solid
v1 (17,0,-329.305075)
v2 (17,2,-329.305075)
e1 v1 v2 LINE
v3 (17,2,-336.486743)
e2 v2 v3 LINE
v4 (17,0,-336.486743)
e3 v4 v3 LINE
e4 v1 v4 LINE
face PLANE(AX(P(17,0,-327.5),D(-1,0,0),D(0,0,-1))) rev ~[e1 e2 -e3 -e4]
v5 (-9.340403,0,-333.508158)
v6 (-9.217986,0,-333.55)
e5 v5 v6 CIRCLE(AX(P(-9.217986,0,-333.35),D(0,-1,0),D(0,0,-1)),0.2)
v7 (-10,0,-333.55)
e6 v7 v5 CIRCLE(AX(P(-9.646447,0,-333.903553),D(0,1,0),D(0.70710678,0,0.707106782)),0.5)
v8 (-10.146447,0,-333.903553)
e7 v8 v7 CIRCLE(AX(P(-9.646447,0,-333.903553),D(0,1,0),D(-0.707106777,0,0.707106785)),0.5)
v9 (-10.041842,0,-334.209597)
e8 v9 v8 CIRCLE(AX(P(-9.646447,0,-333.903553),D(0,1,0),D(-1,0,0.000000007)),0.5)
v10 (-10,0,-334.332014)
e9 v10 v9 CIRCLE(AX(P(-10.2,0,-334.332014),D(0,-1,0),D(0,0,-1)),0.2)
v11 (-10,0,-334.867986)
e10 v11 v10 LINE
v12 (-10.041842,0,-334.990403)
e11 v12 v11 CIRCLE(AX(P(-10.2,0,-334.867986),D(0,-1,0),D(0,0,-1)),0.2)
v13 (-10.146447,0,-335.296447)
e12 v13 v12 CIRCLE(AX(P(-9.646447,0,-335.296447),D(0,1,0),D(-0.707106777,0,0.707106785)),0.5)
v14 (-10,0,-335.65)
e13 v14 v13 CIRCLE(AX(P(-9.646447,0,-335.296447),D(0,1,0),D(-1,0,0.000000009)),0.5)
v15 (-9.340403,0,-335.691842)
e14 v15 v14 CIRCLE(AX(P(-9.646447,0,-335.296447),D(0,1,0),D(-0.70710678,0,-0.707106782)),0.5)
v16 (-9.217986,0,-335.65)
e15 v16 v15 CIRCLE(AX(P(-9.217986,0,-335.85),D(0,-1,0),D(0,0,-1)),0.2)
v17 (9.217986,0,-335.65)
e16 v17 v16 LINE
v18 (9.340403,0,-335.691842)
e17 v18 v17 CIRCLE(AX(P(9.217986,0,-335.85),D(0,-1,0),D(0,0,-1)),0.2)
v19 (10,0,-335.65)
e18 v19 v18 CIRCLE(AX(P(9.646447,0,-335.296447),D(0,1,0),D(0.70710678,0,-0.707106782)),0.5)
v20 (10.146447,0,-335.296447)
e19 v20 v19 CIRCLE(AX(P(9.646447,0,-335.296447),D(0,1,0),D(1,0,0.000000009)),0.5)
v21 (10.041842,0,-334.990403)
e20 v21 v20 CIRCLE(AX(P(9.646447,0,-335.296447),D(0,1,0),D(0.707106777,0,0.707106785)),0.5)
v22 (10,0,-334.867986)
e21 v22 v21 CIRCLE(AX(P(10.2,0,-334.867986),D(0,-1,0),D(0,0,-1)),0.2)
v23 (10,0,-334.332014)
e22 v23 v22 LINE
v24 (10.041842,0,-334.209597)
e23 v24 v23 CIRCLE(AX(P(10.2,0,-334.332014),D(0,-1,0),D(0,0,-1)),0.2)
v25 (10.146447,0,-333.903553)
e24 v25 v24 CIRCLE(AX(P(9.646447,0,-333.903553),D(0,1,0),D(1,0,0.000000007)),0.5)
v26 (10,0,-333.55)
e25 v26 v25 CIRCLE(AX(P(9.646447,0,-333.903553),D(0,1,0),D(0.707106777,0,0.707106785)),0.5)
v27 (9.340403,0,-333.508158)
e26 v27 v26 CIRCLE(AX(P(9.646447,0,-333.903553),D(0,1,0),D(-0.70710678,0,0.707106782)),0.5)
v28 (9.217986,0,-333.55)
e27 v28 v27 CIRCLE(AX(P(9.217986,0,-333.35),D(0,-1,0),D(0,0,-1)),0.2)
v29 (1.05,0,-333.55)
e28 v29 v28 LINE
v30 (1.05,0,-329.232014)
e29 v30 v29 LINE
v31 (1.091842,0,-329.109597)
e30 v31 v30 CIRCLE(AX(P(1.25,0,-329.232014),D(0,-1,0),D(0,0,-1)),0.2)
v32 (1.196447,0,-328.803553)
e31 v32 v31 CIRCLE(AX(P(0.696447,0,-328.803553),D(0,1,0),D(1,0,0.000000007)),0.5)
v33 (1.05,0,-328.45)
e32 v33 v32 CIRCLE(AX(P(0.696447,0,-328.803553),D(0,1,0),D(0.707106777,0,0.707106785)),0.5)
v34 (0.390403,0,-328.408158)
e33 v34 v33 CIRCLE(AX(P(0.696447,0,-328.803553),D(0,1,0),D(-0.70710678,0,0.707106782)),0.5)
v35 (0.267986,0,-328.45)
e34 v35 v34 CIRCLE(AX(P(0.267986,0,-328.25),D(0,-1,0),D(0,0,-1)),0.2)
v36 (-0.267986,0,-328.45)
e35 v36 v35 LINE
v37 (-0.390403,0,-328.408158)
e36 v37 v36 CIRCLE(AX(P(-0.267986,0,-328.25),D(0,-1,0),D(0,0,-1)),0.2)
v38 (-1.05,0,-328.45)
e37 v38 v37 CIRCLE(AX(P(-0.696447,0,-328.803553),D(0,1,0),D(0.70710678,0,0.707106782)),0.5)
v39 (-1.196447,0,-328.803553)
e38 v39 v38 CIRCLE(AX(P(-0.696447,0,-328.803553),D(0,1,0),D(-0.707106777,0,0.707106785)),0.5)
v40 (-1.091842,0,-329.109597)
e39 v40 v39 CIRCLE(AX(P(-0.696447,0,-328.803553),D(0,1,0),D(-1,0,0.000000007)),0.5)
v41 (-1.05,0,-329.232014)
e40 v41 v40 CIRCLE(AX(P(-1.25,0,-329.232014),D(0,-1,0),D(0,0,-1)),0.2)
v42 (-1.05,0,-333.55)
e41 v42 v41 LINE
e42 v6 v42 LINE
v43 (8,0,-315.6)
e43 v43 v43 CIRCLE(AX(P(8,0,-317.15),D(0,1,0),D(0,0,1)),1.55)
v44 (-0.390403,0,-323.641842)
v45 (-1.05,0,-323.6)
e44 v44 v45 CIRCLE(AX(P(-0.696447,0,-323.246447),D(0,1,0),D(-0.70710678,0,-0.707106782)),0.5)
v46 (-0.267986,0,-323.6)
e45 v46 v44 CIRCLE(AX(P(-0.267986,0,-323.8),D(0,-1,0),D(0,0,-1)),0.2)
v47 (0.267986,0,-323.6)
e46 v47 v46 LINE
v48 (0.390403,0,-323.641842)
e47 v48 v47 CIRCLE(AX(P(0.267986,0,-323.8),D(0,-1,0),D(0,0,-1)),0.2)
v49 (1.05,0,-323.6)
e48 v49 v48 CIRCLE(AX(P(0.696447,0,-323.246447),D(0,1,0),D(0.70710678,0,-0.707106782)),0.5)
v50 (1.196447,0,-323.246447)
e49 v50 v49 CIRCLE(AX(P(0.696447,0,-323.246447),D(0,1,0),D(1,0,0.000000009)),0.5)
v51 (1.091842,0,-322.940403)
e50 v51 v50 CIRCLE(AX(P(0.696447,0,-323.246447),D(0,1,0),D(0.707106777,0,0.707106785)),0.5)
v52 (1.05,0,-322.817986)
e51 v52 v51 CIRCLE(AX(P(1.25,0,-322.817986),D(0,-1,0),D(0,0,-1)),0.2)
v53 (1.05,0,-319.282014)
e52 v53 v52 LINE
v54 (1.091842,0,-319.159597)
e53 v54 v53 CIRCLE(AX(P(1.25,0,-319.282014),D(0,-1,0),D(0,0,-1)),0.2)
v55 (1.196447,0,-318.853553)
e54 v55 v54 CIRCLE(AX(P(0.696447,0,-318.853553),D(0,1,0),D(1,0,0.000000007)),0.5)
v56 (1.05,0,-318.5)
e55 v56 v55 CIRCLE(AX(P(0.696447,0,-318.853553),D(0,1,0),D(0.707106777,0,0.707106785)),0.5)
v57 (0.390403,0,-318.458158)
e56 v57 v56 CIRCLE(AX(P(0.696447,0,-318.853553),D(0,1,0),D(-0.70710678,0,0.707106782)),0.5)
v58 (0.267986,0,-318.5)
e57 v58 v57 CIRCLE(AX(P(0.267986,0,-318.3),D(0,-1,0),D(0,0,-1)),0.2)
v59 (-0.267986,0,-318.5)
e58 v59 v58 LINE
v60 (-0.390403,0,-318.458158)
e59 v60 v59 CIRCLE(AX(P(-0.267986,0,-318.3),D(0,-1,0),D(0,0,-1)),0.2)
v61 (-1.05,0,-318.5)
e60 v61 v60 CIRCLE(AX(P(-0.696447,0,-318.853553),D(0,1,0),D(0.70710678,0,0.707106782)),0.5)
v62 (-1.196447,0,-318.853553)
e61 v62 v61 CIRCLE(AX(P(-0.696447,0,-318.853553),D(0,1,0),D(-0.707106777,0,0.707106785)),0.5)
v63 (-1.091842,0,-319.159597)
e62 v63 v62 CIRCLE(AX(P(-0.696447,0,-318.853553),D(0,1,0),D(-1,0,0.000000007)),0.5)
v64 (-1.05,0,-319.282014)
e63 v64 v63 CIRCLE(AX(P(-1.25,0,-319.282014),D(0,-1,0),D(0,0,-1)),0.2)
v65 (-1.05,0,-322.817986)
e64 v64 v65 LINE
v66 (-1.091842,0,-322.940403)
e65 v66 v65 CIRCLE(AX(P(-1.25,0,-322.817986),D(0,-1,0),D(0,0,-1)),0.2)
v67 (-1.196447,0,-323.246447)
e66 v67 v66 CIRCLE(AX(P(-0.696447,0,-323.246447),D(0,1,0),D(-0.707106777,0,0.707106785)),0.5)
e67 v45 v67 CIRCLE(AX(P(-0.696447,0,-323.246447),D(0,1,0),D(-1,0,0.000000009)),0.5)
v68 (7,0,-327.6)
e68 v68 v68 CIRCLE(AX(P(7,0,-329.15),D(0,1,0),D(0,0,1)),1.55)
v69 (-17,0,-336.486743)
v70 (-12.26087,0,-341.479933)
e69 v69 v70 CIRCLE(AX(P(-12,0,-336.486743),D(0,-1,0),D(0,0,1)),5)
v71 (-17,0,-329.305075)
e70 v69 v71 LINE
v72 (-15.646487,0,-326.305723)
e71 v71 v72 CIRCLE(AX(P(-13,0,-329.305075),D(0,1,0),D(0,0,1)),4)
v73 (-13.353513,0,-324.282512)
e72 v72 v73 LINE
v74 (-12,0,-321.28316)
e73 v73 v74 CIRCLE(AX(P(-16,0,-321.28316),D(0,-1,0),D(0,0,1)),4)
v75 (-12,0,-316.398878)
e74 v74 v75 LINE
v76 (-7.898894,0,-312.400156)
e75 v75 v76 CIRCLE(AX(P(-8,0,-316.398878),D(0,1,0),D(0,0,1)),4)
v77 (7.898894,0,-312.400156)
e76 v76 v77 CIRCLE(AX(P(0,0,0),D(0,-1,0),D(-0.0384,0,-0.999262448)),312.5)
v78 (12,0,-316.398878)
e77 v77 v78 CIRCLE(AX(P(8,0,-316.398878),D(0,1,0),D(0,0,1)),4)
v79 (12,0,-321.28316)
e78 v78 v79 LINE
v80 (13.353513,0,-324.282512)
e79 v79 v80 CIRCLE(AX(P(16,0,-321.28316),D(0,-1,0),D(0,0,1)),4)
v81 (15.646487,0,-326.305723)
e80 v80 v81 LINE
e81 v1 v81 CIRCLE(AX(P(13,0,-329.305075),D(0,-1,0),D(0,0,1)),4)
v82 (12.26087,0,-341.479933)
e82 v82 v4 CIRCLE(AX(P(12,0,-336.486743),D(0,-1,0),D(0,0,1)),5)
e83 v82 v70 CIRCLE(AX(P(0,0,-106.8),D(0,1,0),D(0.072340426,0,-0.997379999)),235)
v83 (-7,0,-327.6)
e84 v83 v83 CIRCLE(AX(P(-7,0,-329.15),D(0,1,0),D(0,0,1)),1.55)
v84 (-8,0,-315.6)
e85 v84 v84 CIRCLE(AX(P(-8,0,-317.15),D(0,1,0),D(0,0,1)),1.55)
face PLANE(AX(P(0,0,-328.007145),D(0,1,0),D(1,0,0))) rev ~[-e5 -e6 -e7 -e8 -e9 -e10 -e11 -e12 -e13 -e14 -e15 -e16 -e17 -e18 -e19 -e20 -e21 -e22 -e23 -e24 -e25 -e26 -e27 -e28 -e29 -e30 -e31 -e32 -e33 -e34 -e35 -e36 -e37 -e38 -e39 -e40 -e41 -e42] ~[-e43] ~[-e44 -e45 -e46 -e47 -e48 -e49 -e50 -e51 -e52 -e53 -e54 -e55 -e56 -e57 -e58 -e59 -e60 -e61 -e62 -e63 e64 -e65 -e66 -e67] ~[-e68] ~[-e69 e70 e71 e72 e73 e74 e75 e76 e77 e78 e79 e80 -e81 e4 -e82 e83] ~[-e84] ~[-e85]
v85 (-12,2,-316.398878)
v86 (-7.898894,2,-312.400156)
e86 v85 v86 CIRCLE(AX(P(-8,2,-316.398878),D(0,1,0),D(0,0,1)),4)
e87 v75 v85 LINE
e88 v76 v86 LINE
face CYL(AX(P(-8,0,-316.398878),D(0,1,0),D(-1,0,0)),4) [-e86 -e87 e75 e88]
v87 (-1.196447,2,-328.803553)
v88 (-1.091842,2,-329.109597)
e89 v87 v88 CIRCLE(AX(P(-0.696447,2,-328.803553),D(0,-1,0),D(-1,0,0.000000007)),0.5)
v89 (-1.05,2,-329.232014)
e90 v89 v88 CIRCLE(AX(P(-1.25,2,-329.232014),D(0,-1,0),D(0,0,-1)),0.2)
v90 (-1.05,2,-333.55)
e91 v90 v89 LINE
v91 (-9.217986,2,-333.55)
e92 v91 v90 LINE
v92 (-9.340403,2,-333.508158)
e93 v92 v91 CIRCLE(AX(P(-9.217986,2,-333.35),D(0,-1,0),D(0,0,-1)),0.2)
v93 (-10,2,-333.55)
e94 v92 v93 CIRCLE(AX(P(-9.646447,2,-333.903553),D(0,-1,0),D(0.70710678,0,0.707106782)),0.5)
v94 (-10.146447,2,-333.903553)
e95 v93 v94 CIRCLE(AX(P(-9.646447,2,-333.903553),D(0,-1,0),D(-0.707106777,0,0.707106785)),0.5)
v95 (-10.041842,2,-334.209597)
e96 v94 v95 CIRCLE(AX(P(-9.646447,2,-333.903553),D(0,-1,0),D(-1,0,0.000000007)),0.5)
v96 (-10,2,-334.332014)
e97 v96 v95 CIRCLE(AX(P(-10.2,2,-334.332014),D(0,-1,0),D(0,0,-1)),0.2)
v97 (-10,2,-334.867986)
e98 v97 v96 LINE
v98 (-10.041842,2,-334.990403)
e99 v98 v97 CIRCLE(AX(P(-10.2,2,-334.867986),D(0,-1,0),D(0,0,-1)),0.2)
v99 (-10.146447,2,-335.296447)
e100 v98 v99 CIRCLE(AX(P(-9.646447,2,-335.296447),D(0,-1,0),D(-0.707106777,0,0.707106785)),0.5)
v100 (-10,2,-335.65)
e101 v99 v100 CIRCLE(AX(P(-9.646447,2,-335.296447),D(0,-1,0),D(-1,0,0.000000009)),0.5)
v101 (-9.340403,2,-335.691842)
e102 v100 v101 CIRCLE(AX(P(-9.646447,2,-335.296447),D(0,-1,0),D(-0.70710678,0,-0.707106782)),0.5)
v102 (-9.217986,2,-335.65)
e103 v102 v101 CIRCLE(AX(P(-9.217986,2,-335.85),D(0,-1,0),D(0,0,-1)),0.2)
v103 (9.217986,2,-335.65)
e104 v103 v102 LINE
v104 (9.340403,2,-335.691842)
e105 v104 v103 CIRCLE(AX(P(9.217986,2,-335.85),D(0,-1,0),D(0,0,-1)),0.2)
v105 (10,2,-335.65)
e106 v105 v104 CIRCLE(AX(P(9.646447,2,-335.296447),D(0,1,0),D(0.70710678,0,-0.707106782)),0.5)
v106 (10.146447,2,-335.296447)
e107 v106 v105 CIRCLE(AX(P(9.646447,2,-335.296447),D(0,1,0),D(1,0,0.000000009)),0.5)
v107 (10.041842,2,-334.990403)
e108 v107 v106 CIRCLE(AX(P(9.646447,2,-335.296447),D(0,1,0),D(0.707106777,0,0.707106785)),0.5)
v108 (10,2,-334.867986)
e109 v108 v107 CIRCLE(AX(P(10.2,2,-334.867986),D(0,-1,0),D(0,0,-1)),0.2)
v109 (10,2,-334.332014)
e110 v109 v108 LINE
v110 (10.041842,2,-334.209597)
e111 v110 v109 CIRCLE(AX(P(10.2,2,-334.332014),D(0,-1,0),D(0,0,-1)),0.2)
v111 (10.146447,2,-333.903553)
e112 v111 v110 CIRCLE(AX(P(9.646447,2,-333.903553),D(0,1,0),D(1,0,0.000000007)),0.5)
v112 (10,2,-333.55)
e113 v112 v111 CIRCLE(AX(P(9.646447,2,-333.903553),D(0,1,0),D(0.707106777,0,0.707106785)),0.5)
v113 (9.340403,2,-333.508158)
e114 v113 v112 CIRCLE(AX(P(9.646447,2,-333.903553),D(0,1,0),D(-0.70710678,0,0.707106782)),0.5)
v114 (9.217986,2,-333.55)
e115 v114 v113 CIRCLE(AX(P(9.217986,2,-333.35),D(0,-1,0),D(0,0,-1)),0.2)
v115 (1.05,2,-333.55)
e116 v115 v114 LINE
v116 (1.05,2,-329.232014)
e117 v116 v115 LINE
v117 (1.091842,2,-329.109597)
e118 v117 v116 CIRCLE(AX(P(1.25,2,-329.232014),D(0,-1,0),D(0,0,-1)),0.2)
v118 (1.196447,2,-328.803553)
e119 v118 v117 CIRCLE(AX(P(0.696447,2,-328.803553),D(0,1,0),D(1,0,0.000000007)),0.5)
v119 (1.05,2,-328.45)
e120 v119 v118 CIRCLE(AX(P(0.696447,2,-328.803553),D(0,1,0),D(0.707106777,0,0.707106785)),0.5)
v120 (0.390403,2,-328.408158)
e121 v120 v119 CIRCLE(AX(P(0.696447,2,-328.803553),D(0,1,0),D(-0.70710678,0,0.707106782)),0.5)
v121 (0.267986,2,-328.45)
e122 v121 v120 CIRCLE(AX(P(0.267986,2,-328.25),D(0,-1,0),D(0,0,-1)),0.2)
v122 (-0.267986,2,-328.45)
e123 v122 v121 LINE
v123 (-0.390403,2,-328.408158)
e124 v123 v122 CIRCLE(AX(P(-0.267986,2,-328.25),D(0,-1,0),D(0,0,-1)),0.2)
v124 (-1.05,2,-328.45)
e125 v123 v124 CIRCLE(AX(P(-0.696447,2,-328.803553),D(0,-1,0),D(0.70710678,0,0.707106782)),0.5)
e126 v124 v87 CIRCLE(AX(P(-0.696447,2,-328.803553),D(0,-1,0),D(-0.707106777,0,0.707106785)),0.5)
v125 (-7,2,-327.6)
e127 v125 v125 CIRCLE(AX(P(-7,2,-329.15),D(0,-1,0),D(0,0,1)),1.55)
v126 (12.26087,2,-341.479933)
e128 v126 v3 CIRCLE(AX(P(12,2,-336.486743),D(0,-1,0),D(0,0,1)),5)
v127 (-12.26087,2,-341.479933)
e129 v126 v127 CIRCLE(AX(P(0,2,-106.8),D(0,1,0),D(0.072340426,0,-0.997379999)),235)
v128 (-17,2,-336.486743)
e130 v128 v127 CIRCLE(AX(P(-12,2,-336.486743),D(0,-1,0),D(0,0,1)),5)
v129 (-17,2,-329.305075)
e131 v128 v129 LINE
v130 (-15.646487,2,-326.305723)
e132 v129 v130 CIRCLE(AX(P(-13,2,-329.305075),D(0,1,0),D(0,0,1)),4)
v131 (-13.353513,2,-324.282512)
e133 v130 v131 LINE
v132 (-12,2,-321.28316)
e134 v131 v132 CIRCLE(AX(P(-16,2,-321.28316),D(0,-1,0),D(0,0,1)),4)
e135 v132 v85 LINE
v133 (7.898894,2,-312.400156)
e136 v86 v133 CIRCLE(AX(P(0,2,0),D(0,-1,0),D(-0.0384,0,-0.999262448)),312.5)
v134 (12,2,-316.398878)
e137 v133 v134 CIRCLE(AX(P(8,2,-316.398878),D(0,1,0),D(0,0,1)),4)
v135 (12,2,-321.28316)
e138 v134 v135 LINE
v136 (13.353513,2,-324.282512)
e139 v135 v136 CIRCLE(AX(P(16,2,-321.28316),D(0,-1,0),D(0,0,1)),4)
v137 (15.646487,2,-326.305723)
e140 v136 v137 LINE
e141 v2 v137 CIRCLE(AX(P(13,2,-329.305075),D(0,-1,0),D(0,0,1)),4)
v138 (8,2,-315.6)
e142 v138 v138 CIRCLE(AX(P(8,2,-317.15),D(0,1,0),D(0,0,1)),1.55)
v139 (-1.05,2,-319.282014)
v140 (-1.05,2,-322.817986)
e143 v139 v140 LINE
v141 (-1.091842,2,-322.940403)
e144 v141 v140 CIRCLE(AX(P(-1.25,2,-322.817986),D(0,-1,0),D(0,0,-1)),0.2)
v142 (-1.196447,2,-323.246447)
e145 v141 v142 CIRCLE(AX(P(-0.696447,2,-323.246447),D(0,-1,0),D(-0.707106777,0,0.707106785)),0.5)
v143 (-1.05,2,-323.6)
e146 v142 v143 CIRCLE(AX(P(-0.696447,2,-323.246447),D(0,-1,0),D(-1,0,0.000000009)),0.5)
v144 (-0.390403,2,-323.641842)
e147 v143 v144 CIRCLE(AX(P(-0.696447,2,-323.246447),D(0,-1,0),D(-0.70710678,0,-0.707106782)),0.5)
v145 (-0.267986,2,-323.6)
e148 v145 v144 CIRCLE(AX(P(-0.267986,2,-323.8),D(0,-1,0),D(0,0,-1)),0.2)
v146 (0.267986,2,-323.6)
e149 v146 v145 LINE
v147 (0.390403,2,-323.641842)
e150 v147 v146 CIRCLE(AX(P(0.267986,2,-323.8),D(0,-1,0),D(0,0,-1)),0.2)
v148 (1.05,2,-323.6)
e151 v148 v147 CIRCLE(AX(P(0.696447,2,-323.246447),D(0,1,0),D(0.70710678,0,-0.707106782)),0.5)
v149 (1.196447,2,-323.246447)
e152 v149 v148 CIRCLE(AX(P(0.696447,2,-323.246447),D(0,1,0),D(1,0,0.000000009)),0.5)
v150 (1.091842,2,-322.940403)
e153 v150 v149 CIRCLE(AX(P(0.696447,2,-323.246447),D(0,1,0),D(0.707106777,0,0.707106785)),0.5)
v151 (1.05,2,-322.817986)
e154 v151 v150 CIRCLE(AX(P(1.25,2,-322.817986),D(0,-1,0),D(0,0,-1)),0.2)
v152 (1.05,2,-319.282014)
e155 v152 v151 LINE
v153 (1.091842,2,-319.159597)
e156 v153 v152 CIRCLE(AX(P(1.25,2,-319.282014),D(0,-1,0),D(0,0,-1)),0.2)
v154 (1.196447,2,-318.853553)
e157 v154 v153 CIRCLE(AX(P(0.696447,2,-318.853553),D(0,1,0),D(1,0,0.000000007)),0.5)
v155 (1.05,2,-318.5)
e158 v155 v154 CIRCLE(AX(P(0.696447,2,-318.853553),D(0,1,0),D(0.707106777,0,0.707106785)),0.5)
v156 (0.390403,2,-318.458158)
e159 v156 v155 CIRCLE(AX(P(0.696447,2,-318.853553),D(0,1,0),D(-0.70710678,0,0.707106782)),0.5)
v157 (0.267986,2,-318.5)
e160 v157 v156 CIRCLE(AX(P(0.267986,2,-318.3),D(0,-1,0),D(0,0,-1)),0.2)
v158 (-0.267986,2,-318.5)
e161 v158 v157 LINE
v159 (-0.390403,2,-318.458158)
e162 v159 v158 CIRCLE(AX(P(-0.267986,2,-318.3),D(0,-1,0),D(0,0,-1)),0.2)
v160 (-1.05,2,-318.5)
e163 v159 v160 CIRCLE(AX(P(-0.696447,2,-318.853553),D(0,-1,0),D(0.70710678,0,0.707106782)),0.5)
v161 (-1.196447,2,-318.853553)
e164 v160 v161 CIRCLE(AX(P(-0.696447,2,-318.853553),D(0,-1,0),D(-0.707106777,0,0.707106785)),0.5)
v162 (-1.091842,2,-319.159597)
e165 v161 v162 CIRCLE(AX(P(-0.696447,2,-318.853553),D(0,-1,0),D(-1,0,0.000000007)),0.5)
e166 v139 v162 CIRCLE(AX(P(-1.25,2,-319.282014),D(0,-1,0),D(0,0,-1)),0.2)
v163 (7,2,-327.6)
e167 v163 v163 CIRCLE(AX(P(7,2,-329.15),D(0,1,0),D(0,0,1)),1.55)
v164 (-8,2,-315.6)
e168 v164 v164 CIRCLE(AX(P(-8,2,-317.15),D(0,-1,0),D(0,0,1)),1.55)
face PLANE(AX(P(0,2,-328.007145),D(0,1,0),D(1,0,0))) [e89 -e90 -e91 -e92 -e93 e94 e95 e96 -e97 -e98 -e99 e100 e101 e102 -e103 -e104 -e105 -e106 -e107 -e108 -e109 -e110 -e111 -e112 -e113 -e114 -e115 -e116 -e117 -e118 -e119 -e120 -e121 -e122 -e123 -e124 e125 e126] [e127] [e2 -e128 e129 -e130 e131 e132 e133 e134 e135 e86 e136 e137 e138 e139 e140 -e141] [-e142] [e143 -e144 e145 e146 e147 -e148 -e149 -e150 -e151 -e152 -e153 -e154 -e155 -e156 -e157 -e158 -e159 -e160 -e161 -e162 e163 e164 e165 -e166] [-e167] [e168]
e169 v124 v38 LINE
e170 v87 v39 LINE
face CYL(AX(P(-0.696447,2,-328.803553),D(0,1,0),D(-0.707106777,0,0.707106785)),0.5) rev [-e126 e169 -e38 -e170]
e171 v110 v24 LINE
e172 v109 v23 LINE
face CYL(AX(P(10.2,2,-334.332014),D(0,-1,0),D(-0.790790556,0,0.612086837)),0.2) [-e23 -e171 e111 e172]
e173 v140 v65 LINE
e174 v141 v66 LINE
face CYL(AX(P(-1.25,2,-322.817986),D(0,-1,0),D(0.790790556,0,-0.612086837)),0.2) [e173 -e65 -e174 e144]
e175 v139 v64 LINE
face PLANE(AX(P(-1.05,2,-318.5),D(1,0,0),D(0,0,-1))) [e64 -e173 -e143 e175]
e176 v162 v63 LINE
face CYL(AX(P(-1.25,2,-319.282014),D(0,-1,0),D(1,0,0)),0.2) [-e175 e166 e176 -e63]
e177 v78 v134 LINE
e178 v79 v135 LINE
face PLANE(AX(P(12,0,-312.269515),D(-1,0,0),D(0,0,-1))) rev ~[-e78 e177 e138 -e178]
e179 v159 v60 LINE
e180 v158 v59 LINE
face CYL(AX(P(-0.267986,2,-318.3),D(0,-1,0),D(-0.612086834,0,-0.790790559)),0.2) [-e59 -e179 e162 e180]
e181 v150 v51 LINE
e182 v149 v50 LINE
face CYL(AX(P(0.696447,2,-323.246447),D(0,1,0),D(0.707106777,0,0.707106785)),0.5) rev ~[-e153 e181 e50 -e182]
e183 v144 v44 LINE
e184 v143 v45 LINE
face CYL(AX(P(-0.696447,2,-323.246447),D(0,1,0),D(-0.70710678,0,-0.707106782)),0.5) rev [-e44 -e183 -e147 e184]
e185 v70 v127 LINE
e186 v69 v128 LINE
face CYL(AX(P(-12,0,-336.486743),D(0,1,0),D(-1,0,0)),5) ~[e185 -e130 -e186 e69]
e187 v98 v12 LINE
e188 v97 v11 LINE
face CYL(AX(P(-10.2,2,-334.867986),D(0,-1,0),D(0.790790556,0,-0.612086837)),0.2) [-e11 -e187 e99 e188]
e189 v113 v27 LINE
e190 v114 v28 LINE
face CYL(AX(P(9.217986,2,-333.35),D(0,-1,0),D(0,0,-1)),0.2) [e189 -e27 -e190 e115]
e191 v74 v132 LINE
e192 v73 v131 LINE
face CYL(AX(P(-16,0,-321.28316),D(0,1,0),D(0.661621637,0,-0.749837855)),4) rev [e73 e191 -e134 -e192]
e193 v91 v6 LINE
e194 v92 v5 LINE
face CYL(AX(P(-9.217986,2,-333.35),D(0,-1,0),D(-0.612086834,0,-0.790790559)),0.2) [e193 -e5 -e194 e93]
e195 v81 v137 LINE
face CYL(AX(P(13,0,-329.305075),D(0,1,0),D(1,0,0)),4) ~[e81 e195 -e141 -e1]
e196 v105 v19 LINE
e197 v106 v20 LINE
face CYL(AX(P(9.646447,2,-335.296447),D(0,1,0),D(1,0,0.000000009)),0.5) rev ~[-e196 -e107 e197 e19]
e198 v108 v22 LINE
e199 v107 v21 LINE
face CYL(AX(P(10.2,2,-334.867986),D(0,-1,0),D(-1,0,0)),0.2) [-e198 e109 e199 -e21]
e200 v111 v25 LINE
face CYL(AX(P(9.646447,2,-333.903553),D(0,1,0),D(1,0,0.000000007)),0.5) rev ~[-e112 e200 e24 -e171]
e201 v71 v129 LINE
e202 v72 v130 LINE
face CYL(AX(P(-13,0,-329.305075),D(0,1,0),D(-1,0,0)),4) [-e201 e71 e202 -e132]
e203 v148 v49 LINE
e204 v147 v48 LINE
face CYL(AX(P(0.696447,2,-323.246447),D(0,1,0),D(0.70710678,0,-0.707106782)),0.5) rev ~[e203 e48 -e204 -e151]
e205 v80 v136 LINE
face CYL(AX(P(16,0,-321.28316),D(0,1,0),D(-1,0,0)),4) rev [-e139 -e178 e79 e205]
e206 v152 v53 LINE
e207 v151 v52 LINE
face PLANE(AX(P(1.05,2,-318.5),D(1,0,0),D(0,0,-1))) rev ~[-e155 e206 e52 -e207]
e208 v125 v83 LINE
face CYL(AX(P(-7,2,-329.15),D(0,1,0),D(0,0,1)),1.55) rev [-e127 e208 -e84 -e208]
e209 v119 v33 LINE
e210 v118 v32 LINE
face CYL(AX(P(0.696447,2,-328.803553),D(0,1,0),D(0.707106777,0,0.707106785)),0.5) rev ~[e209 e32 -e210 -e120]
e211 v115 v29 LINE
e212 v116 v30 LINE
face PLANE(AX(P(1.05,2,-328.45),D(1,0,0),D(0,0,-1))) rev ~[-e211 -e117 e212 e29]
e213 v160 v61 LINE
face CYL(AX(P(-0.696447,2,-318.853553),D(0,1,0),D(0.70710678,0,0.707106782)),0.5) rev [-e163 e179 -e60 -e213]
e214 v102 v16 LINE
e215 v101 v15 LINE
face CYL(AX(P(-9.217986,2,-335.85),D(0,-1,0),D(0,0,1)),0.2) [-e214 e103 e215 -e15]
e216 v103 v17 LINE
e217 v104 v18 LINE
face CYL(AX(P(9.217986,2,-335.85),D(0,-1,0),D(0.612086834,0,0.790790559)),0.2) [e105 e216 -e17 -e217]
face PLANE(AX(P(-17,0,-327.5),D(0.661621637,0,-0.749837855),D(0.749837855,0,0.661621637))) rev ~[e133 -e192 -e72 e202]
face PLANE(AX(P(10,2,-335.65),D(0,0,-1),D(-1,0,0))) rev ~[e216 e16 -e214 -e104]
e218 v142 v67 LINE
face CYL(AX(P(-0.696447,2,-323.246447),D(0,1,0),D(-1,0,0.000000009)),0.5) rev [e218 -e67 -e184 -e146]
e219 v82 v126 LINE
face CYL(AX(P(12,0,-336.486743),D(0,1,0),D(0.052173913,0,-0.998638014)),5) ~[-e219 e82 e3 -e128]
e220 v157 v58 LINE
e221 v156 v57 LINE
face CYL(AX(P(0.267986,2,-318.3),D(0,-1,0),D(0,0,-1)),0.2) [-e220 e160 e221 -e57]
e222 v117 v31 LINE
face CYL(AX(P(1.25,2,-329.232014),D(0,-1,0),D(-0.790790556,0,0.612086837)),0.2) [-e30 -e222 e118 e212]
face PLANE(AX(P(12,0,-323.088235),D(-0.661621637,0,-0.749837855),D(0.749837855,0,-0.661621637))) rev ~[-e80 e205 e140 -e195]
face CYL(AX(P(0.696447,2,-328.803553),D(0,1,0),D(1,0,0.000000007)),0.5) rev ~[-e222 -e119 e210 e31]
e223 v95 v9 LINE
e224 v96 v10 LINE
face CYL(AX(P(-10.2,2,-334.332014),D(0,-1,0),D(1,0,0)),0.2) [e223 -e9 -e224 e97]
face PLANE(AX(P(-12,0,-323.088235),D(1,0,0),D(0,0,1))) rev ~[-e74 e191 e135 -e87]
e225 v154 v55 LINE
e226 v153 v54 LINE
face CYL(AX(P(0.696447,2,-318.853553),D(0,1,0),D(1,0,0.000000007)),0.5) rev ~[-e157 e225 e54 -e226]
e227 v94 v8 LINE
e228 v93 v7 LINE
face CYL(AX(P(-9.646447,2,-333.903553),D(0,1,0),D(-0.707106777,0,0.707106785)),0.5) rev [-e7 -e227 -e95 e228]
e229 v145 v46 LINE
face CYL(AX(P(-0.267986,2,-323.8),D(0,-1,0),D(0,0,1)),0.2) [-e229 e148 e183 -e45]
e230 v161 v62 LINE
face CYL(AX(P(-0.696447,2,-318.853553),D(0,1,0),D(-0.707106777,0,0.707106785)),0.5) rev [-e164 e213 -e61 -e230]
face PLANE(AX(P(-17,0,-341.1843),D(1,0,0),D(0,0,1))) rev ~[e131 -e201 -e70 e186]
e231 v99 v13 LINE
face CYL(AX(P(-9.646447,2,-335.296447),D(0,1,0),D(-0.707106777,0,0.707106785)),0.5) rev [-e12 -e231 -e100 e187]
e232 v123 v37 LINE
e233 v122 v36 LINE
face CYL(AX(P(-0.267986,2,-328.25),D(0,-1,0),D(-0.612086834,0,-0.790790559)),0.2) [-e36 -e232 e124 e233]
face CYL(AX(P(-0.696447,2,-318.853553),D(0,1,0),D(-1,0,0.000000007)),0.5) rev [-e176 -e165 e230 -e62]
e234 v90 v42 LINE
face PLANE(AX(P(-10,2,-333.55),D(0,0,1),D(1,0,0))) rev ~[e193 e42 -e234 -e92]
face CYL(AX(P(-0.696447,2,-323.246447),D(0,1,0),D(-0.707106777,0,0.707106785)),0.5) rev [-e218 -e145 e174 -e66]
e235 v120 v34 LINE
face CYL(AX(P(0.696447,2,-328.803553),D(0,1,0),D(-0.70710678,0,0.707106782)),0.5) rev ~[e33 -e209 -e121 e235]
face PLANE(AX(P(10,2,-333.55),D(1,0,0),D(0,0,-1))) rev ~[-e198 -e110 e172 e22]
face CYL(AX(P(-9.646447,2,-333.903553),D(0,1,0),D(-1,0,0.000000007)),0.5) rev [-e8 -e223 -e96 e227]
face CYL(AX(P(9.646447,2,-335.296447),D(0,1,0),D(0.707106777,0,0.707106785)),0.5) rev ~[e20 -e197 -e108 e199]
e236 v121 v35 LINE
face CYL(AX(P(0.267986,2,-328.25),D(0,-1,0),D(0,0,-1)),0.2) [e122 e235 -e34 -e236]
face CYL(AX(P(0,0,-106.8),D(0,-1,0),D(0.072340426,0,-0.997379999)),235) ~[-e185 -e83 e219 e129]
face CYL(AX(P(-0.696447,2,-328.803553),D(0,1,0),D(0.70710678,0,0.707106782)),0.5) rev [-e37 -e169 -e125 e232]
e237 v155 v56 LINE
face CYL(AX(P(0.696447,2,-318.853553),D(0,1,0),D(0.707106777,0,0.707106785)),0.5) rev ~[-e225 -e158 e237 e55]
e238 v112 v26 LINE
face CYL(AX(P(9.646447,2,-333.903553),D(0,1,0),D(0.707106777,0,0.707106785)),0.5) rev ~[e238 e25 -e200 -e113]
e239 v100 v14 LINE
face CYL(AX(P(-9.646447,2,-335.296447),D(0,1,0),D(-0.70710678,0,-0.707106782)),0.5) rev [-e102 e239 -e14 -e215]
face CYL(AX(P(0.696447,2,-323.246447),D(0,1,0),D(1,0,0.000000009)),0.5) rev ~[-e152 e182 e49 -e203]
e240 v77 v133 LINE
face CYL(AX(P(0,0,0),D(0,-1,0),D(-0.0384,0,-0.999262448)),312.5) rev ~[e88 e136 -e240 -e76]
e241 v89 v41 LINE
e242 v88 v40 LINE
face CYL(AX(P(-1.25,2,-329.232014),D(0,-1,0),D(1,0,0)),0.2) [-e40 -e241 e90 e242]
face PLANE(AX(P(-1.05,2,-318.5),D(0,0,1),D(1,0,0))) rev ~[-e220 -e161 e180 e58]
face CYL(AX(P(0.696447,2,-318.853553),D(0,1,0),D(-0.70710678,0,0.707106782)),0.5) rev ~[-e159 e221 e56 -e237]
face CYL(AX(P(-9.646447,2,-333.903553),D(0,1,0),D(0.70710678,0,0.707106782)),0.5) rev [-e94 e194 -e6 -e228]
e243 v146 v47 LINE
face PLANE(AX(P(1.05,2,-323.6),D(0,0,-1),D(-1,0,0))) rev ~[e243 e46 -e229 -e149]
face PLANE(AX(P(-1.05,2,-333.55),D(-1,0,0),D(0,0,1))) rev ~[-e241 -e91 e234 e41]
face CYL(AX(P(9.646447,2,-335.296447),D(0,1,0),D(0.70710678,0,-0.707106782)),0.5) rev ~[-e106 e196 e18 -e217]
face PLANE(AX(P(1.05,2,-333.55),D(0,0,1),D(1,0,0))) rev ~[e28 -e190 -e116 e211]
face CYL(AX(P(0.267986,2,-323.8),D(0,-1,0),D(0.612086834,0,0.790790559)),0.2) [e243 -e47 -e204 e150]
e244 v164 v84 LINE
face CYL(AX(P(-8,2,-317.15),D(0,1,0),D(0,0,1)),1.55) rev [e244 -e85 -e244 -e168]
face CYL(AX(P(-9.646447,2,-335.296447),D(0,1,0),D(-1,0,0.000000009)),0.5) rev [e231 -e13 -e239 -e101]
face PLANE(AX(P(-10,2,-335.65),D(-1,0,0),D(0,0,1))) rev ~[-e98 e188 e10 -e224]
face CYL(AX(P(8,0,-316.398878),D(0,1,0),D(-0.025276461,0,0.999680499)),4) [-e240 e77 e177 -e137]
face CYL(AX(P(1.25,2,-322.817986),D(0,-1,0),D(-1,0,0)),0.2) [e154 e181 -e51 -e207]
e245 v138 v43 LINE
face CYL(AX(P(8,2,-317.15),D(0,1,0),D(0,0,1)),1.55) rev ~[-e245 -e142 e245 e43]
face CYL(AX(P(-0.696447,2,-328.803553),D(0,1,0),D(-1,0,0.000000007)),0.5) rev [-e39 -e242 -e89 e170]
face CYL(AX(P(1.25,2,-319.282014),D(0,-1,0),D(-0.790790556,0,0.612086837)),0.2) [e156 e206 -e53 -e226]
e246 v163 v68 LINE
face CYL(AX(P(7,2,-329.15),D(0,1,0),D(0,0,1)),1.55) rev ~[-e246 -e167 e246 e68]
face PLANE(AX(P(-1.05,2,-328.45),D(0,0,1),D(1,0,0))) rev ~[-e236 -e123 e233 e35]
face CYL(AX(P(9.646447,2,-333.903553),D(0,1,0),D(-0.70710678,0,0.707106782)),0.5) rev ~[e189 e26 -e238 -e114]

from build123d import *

# Parameters (mm, degrees)
EXTRUDE_1_DEPTH     = 2
SKETCH_2_W          = 1.05
SKETCH_2_H          = 5.1
CUT_EXTRUDE_1_DEPTH = 343.228344823
CUT_EXTRUDE_2_DEPTH = 343.228344823
FILLET_1_R          = 0.2
SKETCH_4_R          = 1.55
CUT_EXTRUDE_3_DEPTH = 343.228344823
FILLET_2_R          = 5
FILLET_3_R          = 4


with BuildPart() as part:
    # 草图1 → 凸台-拉伸1 (new body)
    with BuildSketch(Plane(origin=(0, 0, 0), x_dir=(1, 0, 0), z_dir=(0, 1, 0))):
        with BuildLine():
            Line((-17, 327.5), (-12, 323.088235294))
            Line((-12, 323.088235294), (-12, 312.269515003))
            ThreePointArc((-12, 312.269515003), (0, 312.5), (12, 312.269515003))
            Line((12, 312.269515003), (12, 323.088235294))
            Line((12, 323.088235294), (17, 327.5))
            Line((17, 327.5), (17, 341.184299815))
            ThreePointArc((17, 341.184299815), (0, 341.8), (-17, 341.184299815))
            Line((-17, 341.184299815), (-17, 327.5))
        make_face()
    extrude(amount=EXTRUDE_1_DEPTH)

    # 草图2 → 切除-拉伸1 (cut, through all)
    with BuildSketch(Plane(origin=(0, 2, 0), x_dir=(1, 0, 0), z_dir=(0, 1, 0))):
        Polygon((0, 335.65), (0, 328.45), (1.05, 328.45), (1.05, 333.55), (10, 333.55), (10, 335.65), align=None)
        Polygon((-1.05, 328.45), (0, 328.45), (0, 335.65), (-10, 335.65), (-10, 333.55), (-1.05, 333.55), align=None)
        with Locations((0.525, 321.05)):
            Rectangle(SKETCH_2_W, SKETCH_2_H)
        with Locations((-0.525, 321.05)):
            Rectangle(SKETCH_2_W, SKETCH_2_H)
    extrude(amount=-CUT_EXTRUDE_1_DEPTH, mode=Mode.SUBTRACT)

    # 草图3 → 切除-拉伸2 (cut, through all)
    with BuildSketch(Plane(origin=(0, 2, 0), x_dir=(1, 0, 0), z_dir=(0, 1, 0))):
        with BuildLine():
            Line((10, 335.65), (10, 334.942893219))
            ThreePointArc((10, 334.942893219), (10.108386376, 335.105104893), (10.146446609, 335.296446609))
            ThreePointArc((10.146446609, 335.296446609), (10.108386376, 335.487788326), (10, 335.65))
        make_face()
        with BuildLine():
            ThreePointArc((10, 335.65), (9.646446609, 335.796446609), (9.292893219, 335.65))
            Line((9.292893219, 335.65), (10, 335.65))
        make_face()
        with BuildLine():
            ThreePointArc((10.146446609, 333.903553391), (10.108386376, 334.094895107), (10, 334.257106781))
            Line((10, 334.257106781), (10, 333.55))
            ThreePointArc((10, 333.55), (10.108386376, 333.712211674), (10.146446609, 333.903553391))
        make_face()
        with BuildLine():
            Line((10, 333.55), (9.292893219, 333.55))
            ThreePointArc((9.292893219, 333.55), (9.646446609, 333.403553391), (10, 333.55))
        make_face()
        with BuildLine():
            ThreePointArc((1.196446609, 328.803553391), (1.158386376, 328.994895107), (1.05, 329.157106781))
            Line((1.05, 329.157106781), (1.05, 328.45))
            ThreePointArc((1.05, 328.45), (1.158386376, 328.612211674), (1.196446609, 328.803553391))
        make_face()
        with BuildLine():
            Line((1.05, 328.45), (0.342893219, 328.45))
            ThreePointArc((0.342893219, 328.45), (0.696446609, 328.303553391), (1.05, 328.45))
        make_face()
        with BuildLine():
            ThreePointArc((1.196446609, 323.246446609), (1.158386376, 323.437788326), (1.05, 323.6))
            Line((1.05, 323.6), (1.05, 322.892893219))
            ThreePointArc((1.05, 322.892893219), (1.158386376, 323.055104893), (1.196446609, 323.246446609))
        make_face()
        with BuildLine():
            ThreePointArc((1.05, 323.6), (0.696446609, 323.746446609), (0.342893219, 323.6))
            Line((0.342893219, 323.6), (1.05, 323.6))
        make_face()
        with BuildLine():
            ThreePointArc((1.196446609, 318.853553391), (1.158386376, 319.044895107), (1.05, 319.207106781))
            Line((1.05, 319.207106781), (1.05, 318.5))
            ThreePointArc((1.05, 318.5), (1.158386376, 318.662211674), (1.196446609, 318.853553391))
        make_face()
        with BuildLine():
            Line((1.05, 318.5), (0.342893219, 318.5))
            ThreePointArc((0.342893219, 318.5), (0.696446609, 318.353553391), (1.05, 318.5))
        make_face()
    cut_extrude_2 = extrude(amount=-CUT_EXTRUDE_2_DEPTH, mode=Mode.SUBTRACT)

    # 镜向1: 切除-拉伸2 across plane
    add(cut_extrude_2.mirror(Plane(origin=(0, 0, 0), x_dir=(0, 0, 1), z_dir=(1, 0, 0))), mode=Mode.SUBTRACT)

    # 圆角1
    fillet_1_edges = [part.edges().sort_by_distance(p)[0] for p in [
        (1.05, 1, -329.157106781),
        (0.342893219, 1, -323.6),
        (1.05, 1, -319.207106781),
        (9.292893219, 1, -335.65),
        (10, 1, -334.257106781),
        (0.342893219, 1, -328.45),
        (1.05, 1, -322.892893219),
        (0.342893219, 1, -318.5),
        (-10, 1, -334.942893219),
        (-9.292893219, 1, -333.55),
        (-1.05, 1, -329.157106781),
        (-0.342893219, 1, -323.6),
        (-1.05, 1, -319.207106781),
        (-9.292893219, 1, -335.65),
        (-10, 1, -334.257106781),
        (-0.342893219, 1, -328.45),
        (-1.05, 1, -322.892893219),
        (-0.342893219, 1, -318.5),
        (10, 1, -334.942893219),
        (9.292893219, 1, -333.55),
    ]]
    fillet(fillet_1_edges, radius=FILLET_1_R)

    # 草图4 → 切除-拉伸3 (cut, through all)
    with BuildSketch(Plane(origin=(0, 2, 0), x_dir=(1, 0, 0), z_dir=(0, 1, 0))):
        with Locations(Location((7, 329.15, 0), (0, 0, 270))):
            Circle(SKETCH_4_R)
        with Locations(Location((8, 317.15, 0), (0, 0, 270))):
            Circle(SKETCH_4_R)
    cut_extrude_3 = extrude(amount=-CUT_EXTRUDE_3_DEPTH, mode=Mode.SUBTRACT)

    # 镜向2: 切除-拉伸3 across plane
    add(cut_extrude_3.mirror(Plane(origin=(0, 0, 0), x_dir=(0, 0, 1), z_dir=(1, 0, 0))), mode=Mode.SUBTRACT)

    # 圆角2
    fillet_2_edges = [part.edges().sort_by_distance(p)[0] for p in [
        (-17, 1, -341.184299815),
        (17, 1, -341.184299815),
    ]]
    fillet(fillet_2_edges, radius=FILLET_2_R)

    # 圆角3
    fillet_3_edges = [part.edges().sort_by_distance(p)[0] for p in [
        (17, 1, -327.5),
        (12, 1, -323.088235294),
        (12, 1, -312.269515003),
        (-12, 1, -312.269515003),
        (-12, 1, -323.088235294),
        (-17, 1, -327.5),
    ]]
    fillet(fillet_3_edges, radius=FILLET_3_R)


solid = part.part
